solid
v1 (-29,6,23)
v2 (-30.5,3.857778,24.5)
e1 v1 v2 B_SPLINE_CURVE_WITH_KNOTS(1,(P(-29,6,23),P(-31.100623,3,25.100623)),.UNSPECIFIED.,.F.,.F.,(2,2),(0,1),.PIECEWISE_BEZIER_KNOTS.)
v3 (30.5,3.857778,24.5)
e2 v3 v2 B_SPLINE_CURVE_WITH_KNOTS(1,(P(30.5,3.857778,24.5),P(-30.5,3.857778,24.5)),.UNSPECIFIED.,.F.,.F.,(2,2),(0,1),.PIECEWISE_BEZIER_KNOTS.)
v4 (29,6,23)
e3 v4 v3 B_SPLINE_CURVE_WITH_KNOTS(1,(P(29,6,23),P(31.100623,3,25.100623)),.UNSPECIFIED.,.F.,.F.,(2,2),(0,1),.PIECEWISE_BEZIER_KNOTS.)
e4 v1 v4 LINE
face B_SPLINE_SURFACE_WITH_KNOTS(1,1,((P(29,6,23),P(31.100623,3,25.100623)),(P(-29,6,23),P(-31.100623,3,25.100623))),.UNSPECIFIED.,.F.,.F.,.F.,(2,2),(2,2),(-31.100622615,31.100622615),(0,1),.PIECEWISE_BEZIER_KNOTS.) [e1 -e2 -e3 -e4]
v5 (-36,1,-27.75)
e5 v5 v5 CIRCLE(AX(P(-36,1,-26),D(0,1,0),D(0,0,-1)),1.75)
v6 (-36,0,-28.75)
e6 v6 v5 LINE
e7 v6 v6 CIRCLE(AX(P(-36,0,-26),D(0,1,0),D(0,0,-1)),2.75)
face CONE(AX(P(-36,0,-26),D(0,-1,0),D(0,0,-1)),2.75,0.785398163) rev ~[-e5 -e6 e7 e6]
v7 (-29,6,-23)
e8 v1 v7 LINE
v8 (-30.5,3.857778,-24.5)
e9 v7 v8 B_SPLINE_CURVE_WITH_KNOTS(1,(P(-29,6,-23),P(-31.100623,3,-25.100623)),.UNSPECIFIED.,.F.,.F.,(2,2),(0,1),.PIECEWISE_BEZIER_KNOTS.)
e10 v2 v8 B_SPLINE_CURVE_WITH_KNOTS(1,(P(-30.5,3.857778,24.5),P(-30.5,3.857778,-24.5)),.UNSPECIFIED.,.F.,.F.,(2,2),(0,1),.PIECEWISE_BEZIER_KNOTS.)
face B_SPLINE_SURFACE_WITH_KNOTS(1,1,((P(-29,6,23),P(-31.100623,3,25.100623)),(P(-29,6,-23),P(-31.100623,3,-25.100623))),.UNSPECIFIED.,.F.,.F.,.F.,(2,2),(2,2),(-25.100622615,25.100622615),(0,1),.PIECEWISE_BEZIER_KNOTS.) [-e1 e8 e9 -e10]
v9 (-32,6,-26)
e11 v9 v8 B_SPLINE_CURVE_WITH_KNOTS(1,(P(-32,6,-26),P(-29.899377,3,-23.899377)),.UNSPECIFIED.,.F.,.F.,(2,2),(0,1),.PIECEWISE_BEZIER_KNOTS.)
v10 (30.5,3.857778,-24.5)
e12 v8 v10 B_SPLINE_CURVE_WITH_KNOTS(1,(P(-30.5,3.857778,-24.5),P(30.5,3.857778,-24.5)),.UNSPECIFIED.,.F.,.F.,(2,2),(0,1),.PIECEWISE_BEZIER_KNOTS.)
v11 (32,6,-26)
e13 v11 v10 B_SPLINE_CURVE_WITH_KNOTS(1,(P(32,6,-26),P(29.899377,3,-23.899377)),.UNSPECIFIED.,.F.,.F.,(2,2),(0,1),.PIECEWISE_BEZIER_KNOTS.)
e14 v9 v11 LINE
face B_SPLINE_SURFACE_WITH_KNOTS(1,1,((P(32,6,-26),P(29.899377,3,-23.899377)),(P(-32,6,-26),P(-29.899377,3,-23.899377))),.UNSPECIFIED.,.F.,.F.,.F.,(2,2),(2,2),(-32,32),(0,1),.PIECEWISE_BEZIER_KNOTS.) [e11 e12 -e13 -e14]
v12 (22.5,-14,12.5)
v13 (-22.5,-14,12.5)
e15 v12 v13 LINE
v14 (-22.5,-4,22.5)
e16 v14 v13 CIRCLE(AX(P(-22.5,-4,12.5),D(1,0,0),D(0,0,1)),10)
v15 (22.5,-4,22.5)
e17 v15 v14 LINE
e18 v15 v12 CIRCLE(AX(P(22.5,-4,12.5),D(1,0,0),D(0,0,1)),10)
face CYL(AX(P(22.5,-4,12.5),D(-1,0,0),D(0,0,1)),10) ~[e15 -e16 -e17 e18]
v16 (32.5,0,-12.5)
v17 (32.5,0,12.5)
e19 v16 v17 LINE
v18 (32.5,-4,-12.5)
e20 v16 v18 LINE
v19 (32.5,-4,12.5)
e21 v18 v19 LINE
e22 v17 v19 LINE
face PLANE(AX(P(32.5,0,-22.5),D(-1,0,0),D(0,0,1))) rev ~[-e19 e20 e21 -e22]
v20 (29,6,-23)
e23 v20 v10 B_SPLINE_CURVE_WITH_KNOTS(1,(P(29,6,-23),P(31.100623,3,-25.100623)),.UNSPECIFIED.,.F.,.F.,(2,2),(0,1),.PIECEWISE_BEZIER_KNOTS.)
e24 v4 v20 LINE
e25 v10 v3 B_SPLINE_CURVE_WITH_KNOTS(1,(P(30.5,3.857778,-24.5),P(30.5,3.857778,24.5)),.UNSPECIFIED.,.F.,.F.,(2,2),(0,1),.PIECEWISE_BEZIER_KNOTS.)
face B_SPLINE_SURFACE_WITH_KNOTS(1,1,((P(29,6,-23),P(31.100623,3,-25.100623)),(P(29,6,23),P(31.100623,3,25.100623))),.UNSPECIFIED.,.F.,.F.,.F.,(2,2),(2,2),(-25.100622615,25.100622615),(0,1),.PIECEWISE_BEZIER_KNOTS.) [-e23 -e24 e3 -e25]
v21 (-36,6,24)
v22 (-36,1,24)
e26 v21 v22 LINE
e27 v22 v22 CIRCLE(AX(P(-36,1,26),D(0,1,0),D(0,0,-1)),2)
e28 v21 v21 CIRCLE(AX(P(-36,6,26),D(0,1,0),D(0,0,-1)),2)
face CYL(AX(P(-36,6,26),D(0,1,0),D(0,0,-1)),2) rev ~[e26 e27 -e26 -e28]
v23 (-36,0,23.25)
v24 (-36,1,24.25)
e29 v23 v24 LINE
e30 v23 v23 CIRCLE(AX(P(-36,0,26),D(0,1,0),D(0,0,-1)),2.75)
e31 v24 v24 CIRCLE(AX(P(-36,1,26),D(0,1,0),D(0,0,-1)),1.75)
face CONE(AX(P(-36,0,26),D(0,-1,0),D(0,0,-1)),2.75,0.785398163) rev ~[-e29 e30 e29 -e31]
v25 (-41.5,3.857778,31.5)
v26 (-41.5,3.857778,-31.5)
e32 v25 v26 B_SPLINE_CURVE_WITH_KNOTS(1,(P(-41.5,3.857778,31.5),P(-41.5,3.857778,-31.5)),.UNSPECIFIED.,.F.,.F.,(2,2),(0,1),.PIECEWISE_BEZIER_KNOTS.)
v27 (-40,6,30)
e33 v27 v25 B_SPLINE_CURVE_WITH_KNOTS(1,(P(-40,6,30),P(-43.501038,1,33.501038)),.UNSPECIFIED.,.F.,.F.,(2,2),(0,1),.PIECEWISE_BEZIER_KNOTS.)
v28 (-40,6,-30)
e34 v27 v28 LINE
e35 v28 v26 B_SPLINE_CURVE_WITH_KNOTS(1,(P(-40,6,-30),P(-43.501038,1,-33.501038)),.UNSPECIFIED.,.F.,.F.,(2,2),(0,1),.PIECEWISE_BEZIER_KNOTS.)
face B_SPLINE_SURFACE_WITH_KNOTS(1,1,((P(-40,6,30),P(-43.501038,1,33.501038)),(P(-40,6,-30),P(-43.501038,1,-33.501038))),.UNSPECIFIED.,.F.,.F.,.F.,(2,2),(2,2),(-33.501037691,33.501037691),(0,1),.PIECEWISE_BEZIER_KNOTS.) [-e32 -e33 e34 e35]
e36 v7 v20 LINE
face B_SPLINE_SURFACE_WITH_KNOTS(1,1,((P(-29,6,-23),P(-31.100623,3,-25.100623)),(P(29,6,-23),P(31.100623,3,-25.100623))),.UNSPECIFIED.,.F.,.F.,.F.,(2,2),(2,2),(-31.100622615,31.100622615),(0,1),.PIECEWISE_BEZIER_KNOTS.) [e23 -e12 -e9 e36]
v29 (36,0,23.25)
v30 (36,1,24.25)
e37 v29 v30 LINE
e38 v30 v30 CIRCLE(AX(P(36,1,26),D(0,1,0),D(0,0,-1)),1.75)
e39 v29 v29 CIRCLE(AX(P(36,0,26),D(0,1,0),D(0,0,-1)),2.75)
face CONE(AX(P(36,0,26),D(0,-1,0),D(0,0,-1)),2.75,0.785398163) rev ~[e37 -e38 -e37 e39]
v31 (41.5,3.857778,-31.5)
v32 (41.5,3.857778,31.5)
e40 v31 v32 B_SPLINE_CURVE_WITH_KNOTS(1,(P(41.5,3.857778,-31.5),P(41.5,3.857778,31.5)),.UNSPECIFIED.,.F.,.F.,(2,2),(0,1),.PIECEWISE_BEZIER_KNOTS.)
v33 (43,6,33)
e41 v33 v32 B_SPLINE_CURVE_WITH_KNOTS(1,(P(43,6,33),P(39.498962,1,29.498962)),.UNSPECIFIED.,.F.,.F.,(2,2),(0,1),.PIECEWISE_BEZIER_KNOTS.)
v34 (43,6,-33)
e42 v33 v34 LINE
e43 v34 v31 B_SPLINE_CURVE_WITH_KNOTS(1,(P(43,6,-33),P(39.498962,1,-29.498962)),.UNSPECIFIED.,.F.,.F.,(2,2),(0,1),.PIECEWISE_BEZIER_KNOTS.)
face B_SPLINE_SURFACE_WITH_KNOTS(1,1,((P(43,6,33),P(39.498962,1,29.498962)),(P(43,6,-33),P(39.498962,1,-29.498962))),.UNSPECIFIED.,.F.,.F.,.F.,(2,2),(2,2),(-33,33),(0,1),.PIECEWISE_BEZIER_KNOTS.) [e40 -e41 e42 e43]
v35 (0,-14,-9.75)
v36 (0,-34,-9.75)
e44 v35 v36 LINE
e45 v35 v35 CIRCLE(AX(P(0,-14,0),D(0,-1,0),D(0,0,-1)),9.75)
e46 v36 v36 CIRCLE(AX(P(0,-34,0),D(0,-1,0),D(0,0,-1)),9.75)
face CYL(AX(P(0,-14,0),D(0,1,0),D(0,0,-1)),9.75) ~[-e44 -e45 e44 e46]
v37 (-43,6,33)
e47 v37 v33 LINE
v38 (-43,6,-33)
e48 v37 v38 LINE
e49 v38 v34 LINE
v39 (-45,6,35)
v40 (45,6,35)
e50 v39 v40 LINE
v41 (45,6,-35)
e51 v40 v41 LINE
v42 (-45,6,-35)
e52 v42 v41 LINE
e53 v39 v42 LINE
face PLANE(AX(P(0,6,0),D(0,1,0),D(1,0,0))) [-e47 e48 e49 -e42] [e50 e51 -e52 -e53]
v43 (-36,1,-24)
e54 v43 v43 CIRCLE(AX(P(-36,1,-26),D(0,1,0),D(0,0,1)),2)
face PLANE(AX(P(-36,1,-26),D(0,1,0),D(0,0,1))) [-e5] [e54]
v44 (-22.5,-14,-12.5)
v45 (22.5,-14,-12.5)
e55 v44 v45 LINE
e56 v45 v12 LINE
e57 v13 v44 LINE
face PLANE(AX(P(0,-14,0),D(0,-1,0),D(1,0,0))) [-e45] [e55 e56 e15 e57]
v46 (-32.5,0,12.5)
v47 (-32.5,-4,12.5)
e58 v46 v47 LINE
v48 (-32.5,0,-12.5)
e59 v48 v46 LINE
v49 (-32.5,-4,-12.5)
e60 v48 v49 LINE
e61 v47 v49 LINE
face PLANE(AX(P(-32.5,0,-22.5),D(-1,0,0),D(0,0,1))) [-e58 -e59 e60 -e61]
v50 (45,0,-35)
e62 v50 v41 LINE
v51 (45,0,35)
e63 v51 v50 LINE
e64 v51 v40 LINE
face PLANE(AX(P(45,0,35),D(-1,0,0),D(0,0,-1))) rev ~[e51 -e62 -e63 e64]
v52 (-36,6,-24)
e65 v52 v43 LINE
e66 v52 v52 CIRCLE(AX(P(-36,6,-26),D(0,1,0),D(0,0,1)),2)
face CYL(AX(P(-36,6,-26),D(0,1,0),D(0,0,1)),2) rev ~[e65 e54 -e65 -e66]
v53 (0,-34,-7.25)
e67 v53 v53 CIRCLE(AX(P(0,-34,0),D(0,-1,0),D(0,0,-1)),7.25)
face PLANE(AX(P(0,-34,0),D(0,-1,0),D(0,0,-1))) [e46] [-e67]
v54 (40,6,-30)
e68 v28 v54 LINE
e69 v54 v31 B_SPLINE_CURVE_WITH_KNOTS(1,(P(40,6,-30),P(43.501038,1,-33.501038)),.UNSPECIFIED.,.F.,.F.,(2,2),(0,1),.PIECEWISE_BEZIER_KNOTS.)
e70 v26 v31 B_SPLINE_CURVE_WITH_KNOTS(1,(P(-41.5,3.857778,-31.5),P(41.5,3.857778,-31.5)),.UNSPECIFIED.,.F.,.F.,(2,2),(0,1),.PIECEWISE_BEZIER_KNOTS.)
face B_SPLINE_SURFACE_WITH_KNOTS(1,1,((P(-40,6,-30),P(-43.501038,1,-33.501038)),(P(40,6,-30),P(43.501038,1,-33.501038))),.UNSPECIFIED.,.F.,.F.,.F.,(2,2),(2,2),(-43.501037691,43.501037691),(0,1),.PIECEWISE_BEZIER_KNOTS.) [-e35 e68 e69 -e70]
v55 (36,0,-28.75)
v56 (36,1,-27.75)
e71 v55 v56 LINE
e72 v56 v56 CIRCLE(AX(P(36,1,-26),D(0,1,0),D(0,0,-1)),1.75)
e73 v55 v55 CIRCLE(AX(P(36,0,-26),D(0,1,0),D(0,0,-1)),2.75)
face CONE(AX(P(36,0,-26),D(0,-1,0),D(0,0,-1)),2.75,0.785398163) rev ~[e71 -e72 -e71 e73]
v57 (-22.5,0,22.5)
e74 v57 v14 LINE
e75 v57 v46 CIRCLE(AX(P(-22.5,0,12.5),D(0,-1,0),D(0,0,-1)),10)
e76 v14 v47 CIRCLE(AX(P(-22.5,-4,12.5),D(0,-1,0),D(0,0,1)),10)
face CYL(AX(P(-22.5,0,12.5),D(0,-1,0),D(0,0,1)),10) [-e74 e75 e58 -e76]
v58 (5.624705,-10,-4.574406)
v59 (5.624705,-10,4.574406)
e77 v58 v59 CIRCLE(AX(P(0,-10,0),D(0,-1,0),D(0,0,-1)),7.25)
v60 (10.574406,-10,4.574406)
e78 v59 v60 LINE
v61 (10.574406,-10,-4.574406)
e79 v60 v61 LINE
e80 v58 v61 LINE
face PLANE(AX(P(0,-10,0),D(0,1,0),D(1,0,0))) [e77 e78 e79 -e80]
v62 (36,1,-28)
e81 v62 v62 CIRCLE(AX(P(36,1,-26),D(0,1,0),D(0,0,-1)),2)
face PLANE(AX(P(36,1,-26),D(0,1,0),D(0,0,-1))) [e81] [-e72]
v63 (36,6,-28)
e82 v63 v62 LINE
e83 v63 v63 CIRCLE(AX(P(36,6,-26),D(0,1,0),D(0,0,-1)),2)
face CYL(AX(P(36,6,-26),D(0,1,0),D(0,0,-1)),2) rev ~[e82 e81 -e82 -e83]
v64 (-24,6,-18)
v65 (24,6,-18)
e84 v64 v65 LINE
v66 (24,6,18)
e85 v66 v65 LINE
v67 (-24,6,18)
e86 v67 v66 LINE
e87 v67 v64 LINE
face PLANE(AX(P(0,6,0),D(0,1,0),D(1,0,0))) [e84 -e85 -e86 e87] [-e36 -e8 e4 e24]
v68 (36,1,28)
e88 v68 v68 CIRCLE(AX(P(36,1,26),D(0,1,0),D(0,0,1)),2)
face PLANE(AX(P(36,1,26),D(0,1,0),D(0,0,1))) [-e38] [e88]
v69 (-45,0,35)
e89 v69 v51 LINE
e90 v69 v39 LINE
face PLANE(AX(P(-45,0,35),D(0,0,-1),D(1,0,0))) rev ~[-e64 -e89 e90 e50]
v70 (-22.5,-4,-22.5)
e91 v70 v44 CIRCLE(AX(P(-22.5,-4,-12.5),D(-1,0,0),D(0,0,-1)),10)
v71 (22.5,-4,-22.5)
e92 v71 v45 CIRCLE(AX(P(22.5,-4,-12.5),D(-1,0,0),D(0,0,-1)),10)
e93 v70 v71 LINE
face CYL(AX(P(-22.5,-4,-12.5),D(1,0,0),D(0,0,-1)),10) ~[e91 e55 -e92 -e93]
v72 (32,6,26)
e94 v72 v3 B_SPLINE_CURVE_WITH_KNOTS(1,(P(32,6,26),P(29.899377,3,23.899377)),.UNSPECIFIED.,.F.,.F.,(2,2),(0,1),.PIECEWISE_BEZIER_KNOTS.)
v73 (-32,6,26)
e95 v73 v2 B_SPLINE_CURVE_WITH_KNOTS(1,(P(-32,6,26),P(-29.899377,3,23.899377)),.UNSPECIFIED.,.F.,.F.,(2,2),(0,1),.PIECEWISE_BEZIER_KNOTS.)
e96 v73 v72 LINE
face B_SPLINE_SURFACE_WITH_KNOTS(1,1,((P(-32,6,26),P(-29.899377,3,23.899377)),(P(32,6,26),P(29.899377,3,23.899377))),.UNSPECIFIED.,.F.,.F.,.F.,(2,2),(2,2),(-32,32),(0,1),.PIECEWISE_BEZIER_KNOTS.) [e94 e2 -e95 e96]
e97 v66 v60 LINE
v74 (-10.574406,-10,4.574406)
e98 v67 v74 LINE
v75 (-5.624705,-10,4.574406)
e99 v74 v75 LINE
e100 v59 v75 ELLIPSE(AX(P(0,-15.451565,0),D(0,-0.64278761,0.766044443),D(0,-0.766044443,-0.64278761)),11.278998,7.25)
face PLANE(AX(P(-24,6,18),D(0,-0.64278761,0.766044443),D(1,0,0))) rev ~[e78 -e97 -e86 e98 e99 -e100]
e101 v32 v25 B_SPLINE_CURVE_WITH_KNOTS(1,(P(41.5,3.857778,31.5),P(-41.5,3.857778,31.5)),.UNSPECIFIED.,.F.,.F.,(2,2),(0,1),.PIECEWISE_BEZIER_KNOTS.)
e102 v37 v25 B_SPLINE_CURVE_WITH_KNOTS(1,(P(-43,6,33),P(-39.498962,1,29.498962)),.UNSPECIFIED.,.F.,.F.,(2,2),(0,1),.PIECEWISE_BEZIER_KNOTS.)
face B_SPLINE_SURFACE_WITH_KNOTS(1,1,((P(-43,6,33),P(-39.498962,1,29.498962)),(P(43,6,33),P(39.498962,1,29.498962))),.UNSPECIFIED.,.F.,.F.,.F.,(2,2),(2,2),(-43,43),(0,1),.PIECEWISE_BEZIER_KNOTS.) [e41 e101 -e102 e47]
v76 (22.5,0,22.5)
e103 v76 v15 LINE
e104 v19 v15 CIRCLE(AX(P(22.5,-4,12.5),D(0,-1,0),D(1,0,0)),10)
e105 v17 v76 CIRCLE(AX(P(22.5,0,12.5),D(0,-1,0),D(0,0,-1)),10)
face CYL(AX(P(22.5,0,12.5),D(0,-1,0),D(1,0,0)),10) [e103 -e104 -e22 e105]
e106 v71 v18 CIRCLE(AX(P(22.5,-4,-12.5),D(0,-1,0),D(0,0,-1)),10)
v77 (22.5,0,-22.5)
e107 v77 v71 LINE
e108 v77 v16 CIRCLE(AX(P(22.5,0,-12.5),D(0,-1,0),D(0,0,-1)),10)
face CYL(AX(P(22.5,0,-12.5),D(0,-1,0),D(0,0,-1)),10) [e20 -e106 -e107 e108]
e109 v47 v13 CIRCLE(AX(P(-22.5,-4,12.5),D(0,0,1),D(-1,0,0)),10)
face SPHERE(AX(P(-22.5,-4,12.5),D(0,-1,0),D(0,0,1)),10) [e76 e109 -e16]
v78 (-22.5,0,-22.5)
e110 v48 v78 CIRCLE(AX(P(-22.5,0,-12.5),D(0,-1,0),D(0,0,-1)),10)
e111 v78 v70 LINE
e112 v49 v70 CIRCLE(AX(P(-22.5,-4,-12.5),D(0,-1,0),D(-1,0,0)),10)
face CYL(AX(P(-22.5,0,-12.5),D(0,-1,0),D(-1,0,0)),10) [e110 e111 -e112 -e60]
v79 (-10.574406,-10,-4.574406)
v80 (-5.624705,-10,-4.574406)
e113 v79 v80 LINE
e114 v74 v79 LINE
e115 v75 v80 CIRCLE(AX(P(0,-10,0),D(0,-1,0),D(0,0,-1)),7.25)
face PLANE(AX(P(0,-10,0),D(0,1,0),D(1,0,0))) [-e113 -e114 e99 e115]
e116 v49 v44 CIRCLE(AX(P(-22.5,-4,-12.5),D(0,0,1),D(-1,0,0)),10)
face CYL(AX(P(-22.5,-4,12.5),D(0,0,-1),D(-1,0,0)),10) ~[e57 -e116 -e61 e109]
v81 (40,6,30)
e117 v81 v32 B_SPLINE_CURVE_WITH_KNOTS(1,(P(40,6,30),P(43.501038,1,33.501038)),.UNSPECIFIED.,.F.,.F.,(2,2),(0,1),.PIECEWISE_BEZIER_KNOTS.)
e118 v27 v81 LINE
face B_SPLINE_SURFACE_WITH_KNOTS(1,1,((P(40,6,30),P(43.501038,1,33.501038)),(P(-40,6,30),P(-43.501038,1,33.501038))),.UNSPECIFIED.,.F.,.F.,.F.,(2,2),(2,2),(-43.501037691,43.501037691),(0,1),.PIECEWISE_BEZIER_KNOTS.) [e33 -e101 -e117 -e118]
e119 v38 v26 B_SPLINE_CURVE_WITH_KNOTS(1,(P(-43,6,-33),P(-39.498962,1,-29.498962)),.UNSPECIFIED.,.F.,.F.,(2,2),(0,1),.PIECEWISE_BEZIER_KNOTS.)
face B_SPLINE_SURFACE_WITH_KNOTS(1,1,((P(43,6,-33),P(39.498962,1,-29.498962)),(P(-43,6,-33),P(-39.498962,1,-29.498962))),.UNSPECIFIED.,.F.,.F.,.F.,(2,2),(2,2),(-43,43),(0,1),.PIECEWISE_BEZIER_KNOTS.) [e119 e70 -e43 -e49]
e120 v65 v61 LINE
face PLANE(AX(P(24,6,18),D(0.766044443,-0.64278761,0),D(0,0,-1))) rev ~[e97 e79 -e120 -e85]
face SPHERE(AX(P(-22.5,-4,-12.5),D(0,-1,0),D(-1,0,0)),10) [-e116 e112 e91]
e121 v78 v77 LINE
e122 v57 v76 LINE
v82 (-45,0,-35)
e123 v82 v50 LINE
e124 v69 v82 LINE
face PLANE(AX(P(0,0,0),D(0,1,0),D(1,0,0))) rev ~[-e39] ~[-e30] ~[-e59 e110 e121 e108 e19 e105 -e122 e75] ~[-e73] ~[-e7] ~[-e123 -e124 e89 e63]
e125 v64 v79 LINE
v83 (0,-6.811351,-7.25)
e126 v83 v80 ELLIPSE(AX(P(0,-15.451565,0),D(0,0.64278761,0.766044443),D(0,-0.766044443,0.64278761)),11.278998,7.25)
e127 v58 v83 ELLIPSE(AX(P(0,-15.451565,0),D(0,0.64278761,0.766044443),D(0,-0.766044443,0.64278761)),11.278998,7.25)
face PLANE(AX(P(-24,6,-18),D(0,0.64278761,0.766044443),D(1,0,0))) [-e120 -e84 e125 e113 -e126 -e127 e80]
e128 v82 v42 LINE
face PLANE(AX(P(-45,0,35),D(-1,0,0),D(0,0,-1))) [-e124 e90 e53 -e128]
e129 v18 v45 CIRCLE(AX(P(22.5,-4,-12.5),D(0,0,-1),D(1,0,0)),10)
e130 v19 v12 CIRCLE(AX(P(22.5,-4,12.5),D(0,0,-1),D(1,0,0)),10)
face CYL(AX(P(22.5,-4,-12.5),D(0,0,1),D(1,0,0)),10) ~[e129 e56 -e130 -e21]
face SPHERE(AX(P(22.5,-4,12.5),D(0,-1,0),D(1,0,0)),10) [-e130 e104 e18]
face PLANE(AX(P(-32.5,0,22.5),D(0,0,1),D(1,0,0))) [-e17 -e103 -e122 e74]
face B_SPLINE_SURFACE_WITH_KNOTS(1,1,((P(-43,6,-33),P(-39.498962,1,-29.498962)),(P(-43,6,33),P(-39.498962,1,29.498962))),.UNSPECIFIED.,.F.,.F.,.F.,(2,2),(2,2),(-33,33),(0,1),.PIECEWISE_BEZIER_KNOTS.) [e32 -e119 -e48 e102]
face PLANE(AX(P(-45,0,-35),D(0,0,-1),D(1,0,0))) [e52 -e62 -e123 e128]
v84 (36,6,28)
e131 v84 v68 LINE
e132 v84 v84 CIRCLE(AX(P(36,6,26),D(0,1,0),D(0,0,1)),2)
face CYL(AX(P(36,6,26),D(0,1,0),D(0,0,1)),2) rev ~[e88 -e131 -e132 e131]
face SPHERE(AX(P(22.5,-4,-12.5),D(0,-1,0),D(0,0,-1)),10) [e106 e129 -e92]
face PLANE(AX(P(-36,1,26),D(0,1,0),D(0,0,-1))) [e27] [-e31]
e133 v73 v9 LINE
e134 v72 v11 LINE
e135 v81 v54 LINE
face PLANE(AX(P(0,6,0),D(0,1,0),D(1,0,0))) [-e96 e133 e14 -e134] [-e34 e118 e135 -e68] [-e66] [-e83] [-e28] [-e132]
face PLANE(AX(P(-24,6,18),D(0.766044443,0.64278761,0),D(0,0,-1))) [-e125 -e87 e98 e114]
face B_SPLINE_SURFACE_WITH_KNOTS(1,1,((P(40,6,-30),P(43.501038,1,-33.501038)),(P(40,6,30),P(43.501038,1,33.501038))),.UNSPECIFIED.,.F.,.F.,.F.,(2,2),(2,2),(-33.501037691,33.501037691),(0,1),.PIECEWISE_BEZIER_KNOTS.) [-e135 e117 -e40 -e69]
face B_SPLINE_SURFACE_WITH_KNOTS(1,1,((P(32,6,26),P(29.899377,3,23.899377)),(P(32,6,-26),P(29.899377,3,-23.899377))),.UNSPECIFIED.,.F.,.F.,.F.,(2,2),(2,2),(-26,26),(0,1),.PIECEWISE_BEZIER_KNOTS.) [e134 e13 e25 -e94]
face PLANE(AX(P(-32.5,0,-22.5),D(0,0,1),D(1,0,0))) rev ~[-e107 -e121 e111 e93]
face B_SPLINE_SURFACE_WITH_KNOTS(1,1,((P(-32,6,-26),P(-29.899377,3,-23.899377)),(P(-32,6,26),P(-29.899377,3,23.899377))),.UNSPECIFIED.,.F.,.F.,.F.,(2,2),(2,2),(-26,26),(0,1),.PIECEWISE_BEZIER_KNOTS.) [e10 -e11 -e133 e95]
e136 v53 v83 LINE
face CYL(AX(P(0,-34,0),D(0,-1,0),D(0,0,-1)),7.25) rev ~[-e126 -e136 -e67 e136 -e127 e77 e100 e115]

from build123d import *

# Parameters (mm, degrees)
SKETCH1_W               = 90
SKETCH1_H               = 70
BASE_PLATE_DEPTH        = 6
SKETCH4_W               = 86
SKETCH4_H               = 66
SKETCH4_W_2             = 80
SKETCH4_H_2             = 60
SEALANT_CUT_OUTER_DEPTH = 5
SEALANT_CUT_OUTER_TAPER = 35
SKETCH7_R               = 2
SCRE_CUT_DEPTH          = 5
SKETCH12_W              = 64
SKETCH12_H              = 52
SKETCH12_W_2            = 58
SKETCH12_H_2            = 46
SEALANT_CUT_INNER_DEPTH = 3
SEALANT_CUT_INNER_TAPER = 35
SKETCH14_W              = 65
SKETCH14_H              = 45
BASE_BLOCK_DEPTH        = 14
SKETCH13_W              = 48
SKETCH13_H              = 36
DRAIN_DEPTH             = 16
DRAIN_DRAFT             = -40
SKETCH15_R              = 9.75
HOSE_CONNECTOR_DEPTH    = 20
SKETCH16_R              = 7.25
DRAIN_HOLE_DEPTH        = 70.641941443
FILLET1_R               = 10
FILLET2_R               = 10
FILLET3_R               = 10
FILLET4_R               = 10
FILLET5_R               = 10


with BuildPart() as part:
    # Sketch1 → Base Plate (new body)
    with BuildSketch(Plane(origin=(0, 0, 0), x_dir=(1, 0, 0), z_dir=(0, 1, 0))):
        Rectangle(SKETCH1_W, SKETCH1_H)
    extrude(amount=BASE_PLATE_DEPTH)

    # Sketch4 → Sealant Cut - Outer (cut)
    with BuildSketch(Plane(origin=(0, 6, 0), x_dir=(1, 0, 0), z_dir=(0, 1, 0))):
        Rectangle(SKETCH4_W, SKETCH4_H)
        Rectangle(SKETCH4_W_2, SKETCH4_H_2, mode=Mode.SUBTRACT)
    extrude(amount=-SEALANT_CUT_OUTER_DEPTH, taper=SEALANT_CUT_OUTER_TAPER, mode=Mode.SUBTRACT)

    # Sketch7 → Scre Cut (cut)
    with BuildSketch(Plane(origin=(0, 6, 0), x_dir=(1, 0, 0), z_dir=(0, 1, 0))):
        with Locations(Location((-36, 26, 0), (0, 0, 270))):
            Circle(SKETCH7_R)
        with Locations(Location((-36, -26, 0), (0, 0, 90))):
            Circle(SKETCH7_R)
        with Locations(Location((36, -26, 0), (0, 0, 270))):
            Circle(SKETCH7_R)
        with Locations(Location((36, 26, 0), (0, 0, 90))):
            Circle(SKETCH7_R)
    extrude(amount=-SCRE_CUT_DEPTH, mode=Mode.SUBTRACT)

    # Sketch12 → Sealant Cut - Inner (cut)
    with BuildSketch(Plane(origin=(0, 6, 0), x_dir=(1, 0, 0), z_dir=(0, 1, 0))):
        Rectangle(SKETCH12_W, SKETCH12_H)
        Rectangle(SKETCH12_W_2, SKETCH12_H_2, mode=Mode.SUBTRACT)
    extrude(amount=-SEALANT_CUT_INNER_DEPTH, taper=SEALANT_CUT_INNER_TAPER, mode=Mode.SUBTRACT)

    # Sketch14 → Base Block (add)
    with BuildSketch(Plane.XZ):
        Rectangle(SKETCH14_W, SKETCH14_H)
    extrude(amount=BASE_BLOCK_DEPTH)


with BuildPart() as drain_tool:
    # Sketch13 → Drain (with draft: the straight prism first)
    with BuildSketch(Plane(origin=(0, 6, 0), x_dir=(1, 0, 0), z_dir=(0, 1, 0))):
        Rectangle(SKETCH13_W, SKETCH13_H)
    extrude(amount=-DRAIN_DEPTH)
    # Drain: the draft: its side faces are tilted about the plane it starts from
    drain_sides = [drain_tool.faces().sort_by_distance(p)[0] for p in [
        (-24, -2, 0),
        (0, -2, 18),
        (24, -2, 0),
        (0, -2, -18),
    ]]
    draft(drain_sides, Plane(origin=(0, 6, 0), x_dir=(1, 0, 0), z_dir=(0, 1, 0)), DRAIN_DRAFT)


with BuildPart() as part_1:
    add(part.part)

    # Drain: cut by drain_tool
    add(drain_tool.part, mode=Mode.SUBTRACT)

    # Sketch15 → Hose connector (add)
    with BuildSketch(Plane.XZ.offset(14)):
        with Locations(Location((0, 0, 0), (0, 0, 270))):
            Circle(SKETCH15_R)
    extrude(amount=HOSE_CONNECTOR_DEPTH)

    # Sketch16 → Drain Hole (cut, through all)
    with BuildSketch(Plane.XZ.offset(34)):
        with Locations(Location((0, 0, 0), (0, 0, 270))):
            Circle(SKETCH16_R)
    extrude(amount=-DRAIN_HOLE_DEPTH, mode=Mode.SUBTRACT)

    # Fillet1
    fillet1_edges = [part_1.edges().sort_by_distance(p)[0] for p in [
        (-32.5, -7, -22.5),
    ]]
    fillet(fillet1_edges, radius=FILLET1_R)

    # Fillet2
    fillet2_edges = [part_1.edges().sort_by_distance(p)[0] for p in [
        (32.5, -7, -22.5),
    ]]
    fillet(fillet2_edges, radius=FILLET2_R)

    # Fillet3
    fillet3_edges = [part_1.edges().sort_by_distance(p)[0] for p in [
        (32.5, -7, 22.5),
    ]]
    fillet(fillet3_edges, radius=FILLET3_R)

    # Fillet4
    fillet4_edges = [part_1.edges().sort_by_distance(p)[0] for p in [
        (-32.5, -7, 22.5),
    ]]
    fillet(fillet4_edges, radius=FILLET4_R)

    # Srew Heads cone 1 section (through the dimple's axis) → Srew Heads (revolve, cut)
    with BuildSketch(Plane(origin=(-36, 0, -26), x_dir=(0, 0, -1), z_dir=(1, 0, 0))):
        Polygon((0, 0), (2.75, 0), (0, 2.75), align=None)
    revolve(axis=Axis((-36, 0, -26), (0, 1, 0)), mode=Mode.SUBTRACT)

    # Srew Heads cone 2 section (through the dimple's axis) → Srew Heads cone 2 (revolve, cut)
    with BuildSketch(Plane(origin=(-36, 0, 26), x_dir=(0, 0, -1), z_dir=(1, 0, 0))):
        Polygon((0, 0), (2.75, 0), (0, 2.75), align=None)
    revolve(axis=Axis((-36, 0, 26), (0, 1, 0)), mode=Mode.SUBTRACT)

    # Srew Heads cone 3 section (through the dimple's axis) → Srew Heads cone 3 (revolve, cut)
    with BuildSketch(Plane(origin=(36, 0, 26), x_dir=(0, 0, -1), z_dir=(1, 0, 0))):
        Polygon((0, 0), (2.75, 0), (0, 2.75), align=None)
    revolve(axis=Axis((36, 0, 26), (0, 1, 0)), mode=Mode.SUBTRACT)

    # Srew Heads cone 4 section (through the dimple's axis) → Srew Heads cone 4 (revolve, cut)
    with BuildSketch(Plane(origin=(36, 0, -26), x_dir=(0, 0, -1), z_dir=(1, 0, 0))):
        Polygon((0, 0), (2.75, 0), (0, 2.75), align=None)
    revolve(axis=Axis((36, 0, -26), (0, 1, 0)), mode=Mode.SUBTRACT)

    # Fillet5
    fillet5_edges = [part_1.edges().sort_by_distance(p)[0] for p in [
        (0, -14, -22.5),
        (-29.571067812, -14, -19.571067812),
        (32.5, -14, 0),
        (29.571067812, -14, -19.571067812),
        (0, -14, 22.5),
        (29.571067812, -14, 19.571067812),
        (-32.5, -14, 0),
        (-29.571067812, -14, 19.571067812),
    ]]
    fillet(fillet5_edges, radius=FILLET5_R)


solid = part_1.part
